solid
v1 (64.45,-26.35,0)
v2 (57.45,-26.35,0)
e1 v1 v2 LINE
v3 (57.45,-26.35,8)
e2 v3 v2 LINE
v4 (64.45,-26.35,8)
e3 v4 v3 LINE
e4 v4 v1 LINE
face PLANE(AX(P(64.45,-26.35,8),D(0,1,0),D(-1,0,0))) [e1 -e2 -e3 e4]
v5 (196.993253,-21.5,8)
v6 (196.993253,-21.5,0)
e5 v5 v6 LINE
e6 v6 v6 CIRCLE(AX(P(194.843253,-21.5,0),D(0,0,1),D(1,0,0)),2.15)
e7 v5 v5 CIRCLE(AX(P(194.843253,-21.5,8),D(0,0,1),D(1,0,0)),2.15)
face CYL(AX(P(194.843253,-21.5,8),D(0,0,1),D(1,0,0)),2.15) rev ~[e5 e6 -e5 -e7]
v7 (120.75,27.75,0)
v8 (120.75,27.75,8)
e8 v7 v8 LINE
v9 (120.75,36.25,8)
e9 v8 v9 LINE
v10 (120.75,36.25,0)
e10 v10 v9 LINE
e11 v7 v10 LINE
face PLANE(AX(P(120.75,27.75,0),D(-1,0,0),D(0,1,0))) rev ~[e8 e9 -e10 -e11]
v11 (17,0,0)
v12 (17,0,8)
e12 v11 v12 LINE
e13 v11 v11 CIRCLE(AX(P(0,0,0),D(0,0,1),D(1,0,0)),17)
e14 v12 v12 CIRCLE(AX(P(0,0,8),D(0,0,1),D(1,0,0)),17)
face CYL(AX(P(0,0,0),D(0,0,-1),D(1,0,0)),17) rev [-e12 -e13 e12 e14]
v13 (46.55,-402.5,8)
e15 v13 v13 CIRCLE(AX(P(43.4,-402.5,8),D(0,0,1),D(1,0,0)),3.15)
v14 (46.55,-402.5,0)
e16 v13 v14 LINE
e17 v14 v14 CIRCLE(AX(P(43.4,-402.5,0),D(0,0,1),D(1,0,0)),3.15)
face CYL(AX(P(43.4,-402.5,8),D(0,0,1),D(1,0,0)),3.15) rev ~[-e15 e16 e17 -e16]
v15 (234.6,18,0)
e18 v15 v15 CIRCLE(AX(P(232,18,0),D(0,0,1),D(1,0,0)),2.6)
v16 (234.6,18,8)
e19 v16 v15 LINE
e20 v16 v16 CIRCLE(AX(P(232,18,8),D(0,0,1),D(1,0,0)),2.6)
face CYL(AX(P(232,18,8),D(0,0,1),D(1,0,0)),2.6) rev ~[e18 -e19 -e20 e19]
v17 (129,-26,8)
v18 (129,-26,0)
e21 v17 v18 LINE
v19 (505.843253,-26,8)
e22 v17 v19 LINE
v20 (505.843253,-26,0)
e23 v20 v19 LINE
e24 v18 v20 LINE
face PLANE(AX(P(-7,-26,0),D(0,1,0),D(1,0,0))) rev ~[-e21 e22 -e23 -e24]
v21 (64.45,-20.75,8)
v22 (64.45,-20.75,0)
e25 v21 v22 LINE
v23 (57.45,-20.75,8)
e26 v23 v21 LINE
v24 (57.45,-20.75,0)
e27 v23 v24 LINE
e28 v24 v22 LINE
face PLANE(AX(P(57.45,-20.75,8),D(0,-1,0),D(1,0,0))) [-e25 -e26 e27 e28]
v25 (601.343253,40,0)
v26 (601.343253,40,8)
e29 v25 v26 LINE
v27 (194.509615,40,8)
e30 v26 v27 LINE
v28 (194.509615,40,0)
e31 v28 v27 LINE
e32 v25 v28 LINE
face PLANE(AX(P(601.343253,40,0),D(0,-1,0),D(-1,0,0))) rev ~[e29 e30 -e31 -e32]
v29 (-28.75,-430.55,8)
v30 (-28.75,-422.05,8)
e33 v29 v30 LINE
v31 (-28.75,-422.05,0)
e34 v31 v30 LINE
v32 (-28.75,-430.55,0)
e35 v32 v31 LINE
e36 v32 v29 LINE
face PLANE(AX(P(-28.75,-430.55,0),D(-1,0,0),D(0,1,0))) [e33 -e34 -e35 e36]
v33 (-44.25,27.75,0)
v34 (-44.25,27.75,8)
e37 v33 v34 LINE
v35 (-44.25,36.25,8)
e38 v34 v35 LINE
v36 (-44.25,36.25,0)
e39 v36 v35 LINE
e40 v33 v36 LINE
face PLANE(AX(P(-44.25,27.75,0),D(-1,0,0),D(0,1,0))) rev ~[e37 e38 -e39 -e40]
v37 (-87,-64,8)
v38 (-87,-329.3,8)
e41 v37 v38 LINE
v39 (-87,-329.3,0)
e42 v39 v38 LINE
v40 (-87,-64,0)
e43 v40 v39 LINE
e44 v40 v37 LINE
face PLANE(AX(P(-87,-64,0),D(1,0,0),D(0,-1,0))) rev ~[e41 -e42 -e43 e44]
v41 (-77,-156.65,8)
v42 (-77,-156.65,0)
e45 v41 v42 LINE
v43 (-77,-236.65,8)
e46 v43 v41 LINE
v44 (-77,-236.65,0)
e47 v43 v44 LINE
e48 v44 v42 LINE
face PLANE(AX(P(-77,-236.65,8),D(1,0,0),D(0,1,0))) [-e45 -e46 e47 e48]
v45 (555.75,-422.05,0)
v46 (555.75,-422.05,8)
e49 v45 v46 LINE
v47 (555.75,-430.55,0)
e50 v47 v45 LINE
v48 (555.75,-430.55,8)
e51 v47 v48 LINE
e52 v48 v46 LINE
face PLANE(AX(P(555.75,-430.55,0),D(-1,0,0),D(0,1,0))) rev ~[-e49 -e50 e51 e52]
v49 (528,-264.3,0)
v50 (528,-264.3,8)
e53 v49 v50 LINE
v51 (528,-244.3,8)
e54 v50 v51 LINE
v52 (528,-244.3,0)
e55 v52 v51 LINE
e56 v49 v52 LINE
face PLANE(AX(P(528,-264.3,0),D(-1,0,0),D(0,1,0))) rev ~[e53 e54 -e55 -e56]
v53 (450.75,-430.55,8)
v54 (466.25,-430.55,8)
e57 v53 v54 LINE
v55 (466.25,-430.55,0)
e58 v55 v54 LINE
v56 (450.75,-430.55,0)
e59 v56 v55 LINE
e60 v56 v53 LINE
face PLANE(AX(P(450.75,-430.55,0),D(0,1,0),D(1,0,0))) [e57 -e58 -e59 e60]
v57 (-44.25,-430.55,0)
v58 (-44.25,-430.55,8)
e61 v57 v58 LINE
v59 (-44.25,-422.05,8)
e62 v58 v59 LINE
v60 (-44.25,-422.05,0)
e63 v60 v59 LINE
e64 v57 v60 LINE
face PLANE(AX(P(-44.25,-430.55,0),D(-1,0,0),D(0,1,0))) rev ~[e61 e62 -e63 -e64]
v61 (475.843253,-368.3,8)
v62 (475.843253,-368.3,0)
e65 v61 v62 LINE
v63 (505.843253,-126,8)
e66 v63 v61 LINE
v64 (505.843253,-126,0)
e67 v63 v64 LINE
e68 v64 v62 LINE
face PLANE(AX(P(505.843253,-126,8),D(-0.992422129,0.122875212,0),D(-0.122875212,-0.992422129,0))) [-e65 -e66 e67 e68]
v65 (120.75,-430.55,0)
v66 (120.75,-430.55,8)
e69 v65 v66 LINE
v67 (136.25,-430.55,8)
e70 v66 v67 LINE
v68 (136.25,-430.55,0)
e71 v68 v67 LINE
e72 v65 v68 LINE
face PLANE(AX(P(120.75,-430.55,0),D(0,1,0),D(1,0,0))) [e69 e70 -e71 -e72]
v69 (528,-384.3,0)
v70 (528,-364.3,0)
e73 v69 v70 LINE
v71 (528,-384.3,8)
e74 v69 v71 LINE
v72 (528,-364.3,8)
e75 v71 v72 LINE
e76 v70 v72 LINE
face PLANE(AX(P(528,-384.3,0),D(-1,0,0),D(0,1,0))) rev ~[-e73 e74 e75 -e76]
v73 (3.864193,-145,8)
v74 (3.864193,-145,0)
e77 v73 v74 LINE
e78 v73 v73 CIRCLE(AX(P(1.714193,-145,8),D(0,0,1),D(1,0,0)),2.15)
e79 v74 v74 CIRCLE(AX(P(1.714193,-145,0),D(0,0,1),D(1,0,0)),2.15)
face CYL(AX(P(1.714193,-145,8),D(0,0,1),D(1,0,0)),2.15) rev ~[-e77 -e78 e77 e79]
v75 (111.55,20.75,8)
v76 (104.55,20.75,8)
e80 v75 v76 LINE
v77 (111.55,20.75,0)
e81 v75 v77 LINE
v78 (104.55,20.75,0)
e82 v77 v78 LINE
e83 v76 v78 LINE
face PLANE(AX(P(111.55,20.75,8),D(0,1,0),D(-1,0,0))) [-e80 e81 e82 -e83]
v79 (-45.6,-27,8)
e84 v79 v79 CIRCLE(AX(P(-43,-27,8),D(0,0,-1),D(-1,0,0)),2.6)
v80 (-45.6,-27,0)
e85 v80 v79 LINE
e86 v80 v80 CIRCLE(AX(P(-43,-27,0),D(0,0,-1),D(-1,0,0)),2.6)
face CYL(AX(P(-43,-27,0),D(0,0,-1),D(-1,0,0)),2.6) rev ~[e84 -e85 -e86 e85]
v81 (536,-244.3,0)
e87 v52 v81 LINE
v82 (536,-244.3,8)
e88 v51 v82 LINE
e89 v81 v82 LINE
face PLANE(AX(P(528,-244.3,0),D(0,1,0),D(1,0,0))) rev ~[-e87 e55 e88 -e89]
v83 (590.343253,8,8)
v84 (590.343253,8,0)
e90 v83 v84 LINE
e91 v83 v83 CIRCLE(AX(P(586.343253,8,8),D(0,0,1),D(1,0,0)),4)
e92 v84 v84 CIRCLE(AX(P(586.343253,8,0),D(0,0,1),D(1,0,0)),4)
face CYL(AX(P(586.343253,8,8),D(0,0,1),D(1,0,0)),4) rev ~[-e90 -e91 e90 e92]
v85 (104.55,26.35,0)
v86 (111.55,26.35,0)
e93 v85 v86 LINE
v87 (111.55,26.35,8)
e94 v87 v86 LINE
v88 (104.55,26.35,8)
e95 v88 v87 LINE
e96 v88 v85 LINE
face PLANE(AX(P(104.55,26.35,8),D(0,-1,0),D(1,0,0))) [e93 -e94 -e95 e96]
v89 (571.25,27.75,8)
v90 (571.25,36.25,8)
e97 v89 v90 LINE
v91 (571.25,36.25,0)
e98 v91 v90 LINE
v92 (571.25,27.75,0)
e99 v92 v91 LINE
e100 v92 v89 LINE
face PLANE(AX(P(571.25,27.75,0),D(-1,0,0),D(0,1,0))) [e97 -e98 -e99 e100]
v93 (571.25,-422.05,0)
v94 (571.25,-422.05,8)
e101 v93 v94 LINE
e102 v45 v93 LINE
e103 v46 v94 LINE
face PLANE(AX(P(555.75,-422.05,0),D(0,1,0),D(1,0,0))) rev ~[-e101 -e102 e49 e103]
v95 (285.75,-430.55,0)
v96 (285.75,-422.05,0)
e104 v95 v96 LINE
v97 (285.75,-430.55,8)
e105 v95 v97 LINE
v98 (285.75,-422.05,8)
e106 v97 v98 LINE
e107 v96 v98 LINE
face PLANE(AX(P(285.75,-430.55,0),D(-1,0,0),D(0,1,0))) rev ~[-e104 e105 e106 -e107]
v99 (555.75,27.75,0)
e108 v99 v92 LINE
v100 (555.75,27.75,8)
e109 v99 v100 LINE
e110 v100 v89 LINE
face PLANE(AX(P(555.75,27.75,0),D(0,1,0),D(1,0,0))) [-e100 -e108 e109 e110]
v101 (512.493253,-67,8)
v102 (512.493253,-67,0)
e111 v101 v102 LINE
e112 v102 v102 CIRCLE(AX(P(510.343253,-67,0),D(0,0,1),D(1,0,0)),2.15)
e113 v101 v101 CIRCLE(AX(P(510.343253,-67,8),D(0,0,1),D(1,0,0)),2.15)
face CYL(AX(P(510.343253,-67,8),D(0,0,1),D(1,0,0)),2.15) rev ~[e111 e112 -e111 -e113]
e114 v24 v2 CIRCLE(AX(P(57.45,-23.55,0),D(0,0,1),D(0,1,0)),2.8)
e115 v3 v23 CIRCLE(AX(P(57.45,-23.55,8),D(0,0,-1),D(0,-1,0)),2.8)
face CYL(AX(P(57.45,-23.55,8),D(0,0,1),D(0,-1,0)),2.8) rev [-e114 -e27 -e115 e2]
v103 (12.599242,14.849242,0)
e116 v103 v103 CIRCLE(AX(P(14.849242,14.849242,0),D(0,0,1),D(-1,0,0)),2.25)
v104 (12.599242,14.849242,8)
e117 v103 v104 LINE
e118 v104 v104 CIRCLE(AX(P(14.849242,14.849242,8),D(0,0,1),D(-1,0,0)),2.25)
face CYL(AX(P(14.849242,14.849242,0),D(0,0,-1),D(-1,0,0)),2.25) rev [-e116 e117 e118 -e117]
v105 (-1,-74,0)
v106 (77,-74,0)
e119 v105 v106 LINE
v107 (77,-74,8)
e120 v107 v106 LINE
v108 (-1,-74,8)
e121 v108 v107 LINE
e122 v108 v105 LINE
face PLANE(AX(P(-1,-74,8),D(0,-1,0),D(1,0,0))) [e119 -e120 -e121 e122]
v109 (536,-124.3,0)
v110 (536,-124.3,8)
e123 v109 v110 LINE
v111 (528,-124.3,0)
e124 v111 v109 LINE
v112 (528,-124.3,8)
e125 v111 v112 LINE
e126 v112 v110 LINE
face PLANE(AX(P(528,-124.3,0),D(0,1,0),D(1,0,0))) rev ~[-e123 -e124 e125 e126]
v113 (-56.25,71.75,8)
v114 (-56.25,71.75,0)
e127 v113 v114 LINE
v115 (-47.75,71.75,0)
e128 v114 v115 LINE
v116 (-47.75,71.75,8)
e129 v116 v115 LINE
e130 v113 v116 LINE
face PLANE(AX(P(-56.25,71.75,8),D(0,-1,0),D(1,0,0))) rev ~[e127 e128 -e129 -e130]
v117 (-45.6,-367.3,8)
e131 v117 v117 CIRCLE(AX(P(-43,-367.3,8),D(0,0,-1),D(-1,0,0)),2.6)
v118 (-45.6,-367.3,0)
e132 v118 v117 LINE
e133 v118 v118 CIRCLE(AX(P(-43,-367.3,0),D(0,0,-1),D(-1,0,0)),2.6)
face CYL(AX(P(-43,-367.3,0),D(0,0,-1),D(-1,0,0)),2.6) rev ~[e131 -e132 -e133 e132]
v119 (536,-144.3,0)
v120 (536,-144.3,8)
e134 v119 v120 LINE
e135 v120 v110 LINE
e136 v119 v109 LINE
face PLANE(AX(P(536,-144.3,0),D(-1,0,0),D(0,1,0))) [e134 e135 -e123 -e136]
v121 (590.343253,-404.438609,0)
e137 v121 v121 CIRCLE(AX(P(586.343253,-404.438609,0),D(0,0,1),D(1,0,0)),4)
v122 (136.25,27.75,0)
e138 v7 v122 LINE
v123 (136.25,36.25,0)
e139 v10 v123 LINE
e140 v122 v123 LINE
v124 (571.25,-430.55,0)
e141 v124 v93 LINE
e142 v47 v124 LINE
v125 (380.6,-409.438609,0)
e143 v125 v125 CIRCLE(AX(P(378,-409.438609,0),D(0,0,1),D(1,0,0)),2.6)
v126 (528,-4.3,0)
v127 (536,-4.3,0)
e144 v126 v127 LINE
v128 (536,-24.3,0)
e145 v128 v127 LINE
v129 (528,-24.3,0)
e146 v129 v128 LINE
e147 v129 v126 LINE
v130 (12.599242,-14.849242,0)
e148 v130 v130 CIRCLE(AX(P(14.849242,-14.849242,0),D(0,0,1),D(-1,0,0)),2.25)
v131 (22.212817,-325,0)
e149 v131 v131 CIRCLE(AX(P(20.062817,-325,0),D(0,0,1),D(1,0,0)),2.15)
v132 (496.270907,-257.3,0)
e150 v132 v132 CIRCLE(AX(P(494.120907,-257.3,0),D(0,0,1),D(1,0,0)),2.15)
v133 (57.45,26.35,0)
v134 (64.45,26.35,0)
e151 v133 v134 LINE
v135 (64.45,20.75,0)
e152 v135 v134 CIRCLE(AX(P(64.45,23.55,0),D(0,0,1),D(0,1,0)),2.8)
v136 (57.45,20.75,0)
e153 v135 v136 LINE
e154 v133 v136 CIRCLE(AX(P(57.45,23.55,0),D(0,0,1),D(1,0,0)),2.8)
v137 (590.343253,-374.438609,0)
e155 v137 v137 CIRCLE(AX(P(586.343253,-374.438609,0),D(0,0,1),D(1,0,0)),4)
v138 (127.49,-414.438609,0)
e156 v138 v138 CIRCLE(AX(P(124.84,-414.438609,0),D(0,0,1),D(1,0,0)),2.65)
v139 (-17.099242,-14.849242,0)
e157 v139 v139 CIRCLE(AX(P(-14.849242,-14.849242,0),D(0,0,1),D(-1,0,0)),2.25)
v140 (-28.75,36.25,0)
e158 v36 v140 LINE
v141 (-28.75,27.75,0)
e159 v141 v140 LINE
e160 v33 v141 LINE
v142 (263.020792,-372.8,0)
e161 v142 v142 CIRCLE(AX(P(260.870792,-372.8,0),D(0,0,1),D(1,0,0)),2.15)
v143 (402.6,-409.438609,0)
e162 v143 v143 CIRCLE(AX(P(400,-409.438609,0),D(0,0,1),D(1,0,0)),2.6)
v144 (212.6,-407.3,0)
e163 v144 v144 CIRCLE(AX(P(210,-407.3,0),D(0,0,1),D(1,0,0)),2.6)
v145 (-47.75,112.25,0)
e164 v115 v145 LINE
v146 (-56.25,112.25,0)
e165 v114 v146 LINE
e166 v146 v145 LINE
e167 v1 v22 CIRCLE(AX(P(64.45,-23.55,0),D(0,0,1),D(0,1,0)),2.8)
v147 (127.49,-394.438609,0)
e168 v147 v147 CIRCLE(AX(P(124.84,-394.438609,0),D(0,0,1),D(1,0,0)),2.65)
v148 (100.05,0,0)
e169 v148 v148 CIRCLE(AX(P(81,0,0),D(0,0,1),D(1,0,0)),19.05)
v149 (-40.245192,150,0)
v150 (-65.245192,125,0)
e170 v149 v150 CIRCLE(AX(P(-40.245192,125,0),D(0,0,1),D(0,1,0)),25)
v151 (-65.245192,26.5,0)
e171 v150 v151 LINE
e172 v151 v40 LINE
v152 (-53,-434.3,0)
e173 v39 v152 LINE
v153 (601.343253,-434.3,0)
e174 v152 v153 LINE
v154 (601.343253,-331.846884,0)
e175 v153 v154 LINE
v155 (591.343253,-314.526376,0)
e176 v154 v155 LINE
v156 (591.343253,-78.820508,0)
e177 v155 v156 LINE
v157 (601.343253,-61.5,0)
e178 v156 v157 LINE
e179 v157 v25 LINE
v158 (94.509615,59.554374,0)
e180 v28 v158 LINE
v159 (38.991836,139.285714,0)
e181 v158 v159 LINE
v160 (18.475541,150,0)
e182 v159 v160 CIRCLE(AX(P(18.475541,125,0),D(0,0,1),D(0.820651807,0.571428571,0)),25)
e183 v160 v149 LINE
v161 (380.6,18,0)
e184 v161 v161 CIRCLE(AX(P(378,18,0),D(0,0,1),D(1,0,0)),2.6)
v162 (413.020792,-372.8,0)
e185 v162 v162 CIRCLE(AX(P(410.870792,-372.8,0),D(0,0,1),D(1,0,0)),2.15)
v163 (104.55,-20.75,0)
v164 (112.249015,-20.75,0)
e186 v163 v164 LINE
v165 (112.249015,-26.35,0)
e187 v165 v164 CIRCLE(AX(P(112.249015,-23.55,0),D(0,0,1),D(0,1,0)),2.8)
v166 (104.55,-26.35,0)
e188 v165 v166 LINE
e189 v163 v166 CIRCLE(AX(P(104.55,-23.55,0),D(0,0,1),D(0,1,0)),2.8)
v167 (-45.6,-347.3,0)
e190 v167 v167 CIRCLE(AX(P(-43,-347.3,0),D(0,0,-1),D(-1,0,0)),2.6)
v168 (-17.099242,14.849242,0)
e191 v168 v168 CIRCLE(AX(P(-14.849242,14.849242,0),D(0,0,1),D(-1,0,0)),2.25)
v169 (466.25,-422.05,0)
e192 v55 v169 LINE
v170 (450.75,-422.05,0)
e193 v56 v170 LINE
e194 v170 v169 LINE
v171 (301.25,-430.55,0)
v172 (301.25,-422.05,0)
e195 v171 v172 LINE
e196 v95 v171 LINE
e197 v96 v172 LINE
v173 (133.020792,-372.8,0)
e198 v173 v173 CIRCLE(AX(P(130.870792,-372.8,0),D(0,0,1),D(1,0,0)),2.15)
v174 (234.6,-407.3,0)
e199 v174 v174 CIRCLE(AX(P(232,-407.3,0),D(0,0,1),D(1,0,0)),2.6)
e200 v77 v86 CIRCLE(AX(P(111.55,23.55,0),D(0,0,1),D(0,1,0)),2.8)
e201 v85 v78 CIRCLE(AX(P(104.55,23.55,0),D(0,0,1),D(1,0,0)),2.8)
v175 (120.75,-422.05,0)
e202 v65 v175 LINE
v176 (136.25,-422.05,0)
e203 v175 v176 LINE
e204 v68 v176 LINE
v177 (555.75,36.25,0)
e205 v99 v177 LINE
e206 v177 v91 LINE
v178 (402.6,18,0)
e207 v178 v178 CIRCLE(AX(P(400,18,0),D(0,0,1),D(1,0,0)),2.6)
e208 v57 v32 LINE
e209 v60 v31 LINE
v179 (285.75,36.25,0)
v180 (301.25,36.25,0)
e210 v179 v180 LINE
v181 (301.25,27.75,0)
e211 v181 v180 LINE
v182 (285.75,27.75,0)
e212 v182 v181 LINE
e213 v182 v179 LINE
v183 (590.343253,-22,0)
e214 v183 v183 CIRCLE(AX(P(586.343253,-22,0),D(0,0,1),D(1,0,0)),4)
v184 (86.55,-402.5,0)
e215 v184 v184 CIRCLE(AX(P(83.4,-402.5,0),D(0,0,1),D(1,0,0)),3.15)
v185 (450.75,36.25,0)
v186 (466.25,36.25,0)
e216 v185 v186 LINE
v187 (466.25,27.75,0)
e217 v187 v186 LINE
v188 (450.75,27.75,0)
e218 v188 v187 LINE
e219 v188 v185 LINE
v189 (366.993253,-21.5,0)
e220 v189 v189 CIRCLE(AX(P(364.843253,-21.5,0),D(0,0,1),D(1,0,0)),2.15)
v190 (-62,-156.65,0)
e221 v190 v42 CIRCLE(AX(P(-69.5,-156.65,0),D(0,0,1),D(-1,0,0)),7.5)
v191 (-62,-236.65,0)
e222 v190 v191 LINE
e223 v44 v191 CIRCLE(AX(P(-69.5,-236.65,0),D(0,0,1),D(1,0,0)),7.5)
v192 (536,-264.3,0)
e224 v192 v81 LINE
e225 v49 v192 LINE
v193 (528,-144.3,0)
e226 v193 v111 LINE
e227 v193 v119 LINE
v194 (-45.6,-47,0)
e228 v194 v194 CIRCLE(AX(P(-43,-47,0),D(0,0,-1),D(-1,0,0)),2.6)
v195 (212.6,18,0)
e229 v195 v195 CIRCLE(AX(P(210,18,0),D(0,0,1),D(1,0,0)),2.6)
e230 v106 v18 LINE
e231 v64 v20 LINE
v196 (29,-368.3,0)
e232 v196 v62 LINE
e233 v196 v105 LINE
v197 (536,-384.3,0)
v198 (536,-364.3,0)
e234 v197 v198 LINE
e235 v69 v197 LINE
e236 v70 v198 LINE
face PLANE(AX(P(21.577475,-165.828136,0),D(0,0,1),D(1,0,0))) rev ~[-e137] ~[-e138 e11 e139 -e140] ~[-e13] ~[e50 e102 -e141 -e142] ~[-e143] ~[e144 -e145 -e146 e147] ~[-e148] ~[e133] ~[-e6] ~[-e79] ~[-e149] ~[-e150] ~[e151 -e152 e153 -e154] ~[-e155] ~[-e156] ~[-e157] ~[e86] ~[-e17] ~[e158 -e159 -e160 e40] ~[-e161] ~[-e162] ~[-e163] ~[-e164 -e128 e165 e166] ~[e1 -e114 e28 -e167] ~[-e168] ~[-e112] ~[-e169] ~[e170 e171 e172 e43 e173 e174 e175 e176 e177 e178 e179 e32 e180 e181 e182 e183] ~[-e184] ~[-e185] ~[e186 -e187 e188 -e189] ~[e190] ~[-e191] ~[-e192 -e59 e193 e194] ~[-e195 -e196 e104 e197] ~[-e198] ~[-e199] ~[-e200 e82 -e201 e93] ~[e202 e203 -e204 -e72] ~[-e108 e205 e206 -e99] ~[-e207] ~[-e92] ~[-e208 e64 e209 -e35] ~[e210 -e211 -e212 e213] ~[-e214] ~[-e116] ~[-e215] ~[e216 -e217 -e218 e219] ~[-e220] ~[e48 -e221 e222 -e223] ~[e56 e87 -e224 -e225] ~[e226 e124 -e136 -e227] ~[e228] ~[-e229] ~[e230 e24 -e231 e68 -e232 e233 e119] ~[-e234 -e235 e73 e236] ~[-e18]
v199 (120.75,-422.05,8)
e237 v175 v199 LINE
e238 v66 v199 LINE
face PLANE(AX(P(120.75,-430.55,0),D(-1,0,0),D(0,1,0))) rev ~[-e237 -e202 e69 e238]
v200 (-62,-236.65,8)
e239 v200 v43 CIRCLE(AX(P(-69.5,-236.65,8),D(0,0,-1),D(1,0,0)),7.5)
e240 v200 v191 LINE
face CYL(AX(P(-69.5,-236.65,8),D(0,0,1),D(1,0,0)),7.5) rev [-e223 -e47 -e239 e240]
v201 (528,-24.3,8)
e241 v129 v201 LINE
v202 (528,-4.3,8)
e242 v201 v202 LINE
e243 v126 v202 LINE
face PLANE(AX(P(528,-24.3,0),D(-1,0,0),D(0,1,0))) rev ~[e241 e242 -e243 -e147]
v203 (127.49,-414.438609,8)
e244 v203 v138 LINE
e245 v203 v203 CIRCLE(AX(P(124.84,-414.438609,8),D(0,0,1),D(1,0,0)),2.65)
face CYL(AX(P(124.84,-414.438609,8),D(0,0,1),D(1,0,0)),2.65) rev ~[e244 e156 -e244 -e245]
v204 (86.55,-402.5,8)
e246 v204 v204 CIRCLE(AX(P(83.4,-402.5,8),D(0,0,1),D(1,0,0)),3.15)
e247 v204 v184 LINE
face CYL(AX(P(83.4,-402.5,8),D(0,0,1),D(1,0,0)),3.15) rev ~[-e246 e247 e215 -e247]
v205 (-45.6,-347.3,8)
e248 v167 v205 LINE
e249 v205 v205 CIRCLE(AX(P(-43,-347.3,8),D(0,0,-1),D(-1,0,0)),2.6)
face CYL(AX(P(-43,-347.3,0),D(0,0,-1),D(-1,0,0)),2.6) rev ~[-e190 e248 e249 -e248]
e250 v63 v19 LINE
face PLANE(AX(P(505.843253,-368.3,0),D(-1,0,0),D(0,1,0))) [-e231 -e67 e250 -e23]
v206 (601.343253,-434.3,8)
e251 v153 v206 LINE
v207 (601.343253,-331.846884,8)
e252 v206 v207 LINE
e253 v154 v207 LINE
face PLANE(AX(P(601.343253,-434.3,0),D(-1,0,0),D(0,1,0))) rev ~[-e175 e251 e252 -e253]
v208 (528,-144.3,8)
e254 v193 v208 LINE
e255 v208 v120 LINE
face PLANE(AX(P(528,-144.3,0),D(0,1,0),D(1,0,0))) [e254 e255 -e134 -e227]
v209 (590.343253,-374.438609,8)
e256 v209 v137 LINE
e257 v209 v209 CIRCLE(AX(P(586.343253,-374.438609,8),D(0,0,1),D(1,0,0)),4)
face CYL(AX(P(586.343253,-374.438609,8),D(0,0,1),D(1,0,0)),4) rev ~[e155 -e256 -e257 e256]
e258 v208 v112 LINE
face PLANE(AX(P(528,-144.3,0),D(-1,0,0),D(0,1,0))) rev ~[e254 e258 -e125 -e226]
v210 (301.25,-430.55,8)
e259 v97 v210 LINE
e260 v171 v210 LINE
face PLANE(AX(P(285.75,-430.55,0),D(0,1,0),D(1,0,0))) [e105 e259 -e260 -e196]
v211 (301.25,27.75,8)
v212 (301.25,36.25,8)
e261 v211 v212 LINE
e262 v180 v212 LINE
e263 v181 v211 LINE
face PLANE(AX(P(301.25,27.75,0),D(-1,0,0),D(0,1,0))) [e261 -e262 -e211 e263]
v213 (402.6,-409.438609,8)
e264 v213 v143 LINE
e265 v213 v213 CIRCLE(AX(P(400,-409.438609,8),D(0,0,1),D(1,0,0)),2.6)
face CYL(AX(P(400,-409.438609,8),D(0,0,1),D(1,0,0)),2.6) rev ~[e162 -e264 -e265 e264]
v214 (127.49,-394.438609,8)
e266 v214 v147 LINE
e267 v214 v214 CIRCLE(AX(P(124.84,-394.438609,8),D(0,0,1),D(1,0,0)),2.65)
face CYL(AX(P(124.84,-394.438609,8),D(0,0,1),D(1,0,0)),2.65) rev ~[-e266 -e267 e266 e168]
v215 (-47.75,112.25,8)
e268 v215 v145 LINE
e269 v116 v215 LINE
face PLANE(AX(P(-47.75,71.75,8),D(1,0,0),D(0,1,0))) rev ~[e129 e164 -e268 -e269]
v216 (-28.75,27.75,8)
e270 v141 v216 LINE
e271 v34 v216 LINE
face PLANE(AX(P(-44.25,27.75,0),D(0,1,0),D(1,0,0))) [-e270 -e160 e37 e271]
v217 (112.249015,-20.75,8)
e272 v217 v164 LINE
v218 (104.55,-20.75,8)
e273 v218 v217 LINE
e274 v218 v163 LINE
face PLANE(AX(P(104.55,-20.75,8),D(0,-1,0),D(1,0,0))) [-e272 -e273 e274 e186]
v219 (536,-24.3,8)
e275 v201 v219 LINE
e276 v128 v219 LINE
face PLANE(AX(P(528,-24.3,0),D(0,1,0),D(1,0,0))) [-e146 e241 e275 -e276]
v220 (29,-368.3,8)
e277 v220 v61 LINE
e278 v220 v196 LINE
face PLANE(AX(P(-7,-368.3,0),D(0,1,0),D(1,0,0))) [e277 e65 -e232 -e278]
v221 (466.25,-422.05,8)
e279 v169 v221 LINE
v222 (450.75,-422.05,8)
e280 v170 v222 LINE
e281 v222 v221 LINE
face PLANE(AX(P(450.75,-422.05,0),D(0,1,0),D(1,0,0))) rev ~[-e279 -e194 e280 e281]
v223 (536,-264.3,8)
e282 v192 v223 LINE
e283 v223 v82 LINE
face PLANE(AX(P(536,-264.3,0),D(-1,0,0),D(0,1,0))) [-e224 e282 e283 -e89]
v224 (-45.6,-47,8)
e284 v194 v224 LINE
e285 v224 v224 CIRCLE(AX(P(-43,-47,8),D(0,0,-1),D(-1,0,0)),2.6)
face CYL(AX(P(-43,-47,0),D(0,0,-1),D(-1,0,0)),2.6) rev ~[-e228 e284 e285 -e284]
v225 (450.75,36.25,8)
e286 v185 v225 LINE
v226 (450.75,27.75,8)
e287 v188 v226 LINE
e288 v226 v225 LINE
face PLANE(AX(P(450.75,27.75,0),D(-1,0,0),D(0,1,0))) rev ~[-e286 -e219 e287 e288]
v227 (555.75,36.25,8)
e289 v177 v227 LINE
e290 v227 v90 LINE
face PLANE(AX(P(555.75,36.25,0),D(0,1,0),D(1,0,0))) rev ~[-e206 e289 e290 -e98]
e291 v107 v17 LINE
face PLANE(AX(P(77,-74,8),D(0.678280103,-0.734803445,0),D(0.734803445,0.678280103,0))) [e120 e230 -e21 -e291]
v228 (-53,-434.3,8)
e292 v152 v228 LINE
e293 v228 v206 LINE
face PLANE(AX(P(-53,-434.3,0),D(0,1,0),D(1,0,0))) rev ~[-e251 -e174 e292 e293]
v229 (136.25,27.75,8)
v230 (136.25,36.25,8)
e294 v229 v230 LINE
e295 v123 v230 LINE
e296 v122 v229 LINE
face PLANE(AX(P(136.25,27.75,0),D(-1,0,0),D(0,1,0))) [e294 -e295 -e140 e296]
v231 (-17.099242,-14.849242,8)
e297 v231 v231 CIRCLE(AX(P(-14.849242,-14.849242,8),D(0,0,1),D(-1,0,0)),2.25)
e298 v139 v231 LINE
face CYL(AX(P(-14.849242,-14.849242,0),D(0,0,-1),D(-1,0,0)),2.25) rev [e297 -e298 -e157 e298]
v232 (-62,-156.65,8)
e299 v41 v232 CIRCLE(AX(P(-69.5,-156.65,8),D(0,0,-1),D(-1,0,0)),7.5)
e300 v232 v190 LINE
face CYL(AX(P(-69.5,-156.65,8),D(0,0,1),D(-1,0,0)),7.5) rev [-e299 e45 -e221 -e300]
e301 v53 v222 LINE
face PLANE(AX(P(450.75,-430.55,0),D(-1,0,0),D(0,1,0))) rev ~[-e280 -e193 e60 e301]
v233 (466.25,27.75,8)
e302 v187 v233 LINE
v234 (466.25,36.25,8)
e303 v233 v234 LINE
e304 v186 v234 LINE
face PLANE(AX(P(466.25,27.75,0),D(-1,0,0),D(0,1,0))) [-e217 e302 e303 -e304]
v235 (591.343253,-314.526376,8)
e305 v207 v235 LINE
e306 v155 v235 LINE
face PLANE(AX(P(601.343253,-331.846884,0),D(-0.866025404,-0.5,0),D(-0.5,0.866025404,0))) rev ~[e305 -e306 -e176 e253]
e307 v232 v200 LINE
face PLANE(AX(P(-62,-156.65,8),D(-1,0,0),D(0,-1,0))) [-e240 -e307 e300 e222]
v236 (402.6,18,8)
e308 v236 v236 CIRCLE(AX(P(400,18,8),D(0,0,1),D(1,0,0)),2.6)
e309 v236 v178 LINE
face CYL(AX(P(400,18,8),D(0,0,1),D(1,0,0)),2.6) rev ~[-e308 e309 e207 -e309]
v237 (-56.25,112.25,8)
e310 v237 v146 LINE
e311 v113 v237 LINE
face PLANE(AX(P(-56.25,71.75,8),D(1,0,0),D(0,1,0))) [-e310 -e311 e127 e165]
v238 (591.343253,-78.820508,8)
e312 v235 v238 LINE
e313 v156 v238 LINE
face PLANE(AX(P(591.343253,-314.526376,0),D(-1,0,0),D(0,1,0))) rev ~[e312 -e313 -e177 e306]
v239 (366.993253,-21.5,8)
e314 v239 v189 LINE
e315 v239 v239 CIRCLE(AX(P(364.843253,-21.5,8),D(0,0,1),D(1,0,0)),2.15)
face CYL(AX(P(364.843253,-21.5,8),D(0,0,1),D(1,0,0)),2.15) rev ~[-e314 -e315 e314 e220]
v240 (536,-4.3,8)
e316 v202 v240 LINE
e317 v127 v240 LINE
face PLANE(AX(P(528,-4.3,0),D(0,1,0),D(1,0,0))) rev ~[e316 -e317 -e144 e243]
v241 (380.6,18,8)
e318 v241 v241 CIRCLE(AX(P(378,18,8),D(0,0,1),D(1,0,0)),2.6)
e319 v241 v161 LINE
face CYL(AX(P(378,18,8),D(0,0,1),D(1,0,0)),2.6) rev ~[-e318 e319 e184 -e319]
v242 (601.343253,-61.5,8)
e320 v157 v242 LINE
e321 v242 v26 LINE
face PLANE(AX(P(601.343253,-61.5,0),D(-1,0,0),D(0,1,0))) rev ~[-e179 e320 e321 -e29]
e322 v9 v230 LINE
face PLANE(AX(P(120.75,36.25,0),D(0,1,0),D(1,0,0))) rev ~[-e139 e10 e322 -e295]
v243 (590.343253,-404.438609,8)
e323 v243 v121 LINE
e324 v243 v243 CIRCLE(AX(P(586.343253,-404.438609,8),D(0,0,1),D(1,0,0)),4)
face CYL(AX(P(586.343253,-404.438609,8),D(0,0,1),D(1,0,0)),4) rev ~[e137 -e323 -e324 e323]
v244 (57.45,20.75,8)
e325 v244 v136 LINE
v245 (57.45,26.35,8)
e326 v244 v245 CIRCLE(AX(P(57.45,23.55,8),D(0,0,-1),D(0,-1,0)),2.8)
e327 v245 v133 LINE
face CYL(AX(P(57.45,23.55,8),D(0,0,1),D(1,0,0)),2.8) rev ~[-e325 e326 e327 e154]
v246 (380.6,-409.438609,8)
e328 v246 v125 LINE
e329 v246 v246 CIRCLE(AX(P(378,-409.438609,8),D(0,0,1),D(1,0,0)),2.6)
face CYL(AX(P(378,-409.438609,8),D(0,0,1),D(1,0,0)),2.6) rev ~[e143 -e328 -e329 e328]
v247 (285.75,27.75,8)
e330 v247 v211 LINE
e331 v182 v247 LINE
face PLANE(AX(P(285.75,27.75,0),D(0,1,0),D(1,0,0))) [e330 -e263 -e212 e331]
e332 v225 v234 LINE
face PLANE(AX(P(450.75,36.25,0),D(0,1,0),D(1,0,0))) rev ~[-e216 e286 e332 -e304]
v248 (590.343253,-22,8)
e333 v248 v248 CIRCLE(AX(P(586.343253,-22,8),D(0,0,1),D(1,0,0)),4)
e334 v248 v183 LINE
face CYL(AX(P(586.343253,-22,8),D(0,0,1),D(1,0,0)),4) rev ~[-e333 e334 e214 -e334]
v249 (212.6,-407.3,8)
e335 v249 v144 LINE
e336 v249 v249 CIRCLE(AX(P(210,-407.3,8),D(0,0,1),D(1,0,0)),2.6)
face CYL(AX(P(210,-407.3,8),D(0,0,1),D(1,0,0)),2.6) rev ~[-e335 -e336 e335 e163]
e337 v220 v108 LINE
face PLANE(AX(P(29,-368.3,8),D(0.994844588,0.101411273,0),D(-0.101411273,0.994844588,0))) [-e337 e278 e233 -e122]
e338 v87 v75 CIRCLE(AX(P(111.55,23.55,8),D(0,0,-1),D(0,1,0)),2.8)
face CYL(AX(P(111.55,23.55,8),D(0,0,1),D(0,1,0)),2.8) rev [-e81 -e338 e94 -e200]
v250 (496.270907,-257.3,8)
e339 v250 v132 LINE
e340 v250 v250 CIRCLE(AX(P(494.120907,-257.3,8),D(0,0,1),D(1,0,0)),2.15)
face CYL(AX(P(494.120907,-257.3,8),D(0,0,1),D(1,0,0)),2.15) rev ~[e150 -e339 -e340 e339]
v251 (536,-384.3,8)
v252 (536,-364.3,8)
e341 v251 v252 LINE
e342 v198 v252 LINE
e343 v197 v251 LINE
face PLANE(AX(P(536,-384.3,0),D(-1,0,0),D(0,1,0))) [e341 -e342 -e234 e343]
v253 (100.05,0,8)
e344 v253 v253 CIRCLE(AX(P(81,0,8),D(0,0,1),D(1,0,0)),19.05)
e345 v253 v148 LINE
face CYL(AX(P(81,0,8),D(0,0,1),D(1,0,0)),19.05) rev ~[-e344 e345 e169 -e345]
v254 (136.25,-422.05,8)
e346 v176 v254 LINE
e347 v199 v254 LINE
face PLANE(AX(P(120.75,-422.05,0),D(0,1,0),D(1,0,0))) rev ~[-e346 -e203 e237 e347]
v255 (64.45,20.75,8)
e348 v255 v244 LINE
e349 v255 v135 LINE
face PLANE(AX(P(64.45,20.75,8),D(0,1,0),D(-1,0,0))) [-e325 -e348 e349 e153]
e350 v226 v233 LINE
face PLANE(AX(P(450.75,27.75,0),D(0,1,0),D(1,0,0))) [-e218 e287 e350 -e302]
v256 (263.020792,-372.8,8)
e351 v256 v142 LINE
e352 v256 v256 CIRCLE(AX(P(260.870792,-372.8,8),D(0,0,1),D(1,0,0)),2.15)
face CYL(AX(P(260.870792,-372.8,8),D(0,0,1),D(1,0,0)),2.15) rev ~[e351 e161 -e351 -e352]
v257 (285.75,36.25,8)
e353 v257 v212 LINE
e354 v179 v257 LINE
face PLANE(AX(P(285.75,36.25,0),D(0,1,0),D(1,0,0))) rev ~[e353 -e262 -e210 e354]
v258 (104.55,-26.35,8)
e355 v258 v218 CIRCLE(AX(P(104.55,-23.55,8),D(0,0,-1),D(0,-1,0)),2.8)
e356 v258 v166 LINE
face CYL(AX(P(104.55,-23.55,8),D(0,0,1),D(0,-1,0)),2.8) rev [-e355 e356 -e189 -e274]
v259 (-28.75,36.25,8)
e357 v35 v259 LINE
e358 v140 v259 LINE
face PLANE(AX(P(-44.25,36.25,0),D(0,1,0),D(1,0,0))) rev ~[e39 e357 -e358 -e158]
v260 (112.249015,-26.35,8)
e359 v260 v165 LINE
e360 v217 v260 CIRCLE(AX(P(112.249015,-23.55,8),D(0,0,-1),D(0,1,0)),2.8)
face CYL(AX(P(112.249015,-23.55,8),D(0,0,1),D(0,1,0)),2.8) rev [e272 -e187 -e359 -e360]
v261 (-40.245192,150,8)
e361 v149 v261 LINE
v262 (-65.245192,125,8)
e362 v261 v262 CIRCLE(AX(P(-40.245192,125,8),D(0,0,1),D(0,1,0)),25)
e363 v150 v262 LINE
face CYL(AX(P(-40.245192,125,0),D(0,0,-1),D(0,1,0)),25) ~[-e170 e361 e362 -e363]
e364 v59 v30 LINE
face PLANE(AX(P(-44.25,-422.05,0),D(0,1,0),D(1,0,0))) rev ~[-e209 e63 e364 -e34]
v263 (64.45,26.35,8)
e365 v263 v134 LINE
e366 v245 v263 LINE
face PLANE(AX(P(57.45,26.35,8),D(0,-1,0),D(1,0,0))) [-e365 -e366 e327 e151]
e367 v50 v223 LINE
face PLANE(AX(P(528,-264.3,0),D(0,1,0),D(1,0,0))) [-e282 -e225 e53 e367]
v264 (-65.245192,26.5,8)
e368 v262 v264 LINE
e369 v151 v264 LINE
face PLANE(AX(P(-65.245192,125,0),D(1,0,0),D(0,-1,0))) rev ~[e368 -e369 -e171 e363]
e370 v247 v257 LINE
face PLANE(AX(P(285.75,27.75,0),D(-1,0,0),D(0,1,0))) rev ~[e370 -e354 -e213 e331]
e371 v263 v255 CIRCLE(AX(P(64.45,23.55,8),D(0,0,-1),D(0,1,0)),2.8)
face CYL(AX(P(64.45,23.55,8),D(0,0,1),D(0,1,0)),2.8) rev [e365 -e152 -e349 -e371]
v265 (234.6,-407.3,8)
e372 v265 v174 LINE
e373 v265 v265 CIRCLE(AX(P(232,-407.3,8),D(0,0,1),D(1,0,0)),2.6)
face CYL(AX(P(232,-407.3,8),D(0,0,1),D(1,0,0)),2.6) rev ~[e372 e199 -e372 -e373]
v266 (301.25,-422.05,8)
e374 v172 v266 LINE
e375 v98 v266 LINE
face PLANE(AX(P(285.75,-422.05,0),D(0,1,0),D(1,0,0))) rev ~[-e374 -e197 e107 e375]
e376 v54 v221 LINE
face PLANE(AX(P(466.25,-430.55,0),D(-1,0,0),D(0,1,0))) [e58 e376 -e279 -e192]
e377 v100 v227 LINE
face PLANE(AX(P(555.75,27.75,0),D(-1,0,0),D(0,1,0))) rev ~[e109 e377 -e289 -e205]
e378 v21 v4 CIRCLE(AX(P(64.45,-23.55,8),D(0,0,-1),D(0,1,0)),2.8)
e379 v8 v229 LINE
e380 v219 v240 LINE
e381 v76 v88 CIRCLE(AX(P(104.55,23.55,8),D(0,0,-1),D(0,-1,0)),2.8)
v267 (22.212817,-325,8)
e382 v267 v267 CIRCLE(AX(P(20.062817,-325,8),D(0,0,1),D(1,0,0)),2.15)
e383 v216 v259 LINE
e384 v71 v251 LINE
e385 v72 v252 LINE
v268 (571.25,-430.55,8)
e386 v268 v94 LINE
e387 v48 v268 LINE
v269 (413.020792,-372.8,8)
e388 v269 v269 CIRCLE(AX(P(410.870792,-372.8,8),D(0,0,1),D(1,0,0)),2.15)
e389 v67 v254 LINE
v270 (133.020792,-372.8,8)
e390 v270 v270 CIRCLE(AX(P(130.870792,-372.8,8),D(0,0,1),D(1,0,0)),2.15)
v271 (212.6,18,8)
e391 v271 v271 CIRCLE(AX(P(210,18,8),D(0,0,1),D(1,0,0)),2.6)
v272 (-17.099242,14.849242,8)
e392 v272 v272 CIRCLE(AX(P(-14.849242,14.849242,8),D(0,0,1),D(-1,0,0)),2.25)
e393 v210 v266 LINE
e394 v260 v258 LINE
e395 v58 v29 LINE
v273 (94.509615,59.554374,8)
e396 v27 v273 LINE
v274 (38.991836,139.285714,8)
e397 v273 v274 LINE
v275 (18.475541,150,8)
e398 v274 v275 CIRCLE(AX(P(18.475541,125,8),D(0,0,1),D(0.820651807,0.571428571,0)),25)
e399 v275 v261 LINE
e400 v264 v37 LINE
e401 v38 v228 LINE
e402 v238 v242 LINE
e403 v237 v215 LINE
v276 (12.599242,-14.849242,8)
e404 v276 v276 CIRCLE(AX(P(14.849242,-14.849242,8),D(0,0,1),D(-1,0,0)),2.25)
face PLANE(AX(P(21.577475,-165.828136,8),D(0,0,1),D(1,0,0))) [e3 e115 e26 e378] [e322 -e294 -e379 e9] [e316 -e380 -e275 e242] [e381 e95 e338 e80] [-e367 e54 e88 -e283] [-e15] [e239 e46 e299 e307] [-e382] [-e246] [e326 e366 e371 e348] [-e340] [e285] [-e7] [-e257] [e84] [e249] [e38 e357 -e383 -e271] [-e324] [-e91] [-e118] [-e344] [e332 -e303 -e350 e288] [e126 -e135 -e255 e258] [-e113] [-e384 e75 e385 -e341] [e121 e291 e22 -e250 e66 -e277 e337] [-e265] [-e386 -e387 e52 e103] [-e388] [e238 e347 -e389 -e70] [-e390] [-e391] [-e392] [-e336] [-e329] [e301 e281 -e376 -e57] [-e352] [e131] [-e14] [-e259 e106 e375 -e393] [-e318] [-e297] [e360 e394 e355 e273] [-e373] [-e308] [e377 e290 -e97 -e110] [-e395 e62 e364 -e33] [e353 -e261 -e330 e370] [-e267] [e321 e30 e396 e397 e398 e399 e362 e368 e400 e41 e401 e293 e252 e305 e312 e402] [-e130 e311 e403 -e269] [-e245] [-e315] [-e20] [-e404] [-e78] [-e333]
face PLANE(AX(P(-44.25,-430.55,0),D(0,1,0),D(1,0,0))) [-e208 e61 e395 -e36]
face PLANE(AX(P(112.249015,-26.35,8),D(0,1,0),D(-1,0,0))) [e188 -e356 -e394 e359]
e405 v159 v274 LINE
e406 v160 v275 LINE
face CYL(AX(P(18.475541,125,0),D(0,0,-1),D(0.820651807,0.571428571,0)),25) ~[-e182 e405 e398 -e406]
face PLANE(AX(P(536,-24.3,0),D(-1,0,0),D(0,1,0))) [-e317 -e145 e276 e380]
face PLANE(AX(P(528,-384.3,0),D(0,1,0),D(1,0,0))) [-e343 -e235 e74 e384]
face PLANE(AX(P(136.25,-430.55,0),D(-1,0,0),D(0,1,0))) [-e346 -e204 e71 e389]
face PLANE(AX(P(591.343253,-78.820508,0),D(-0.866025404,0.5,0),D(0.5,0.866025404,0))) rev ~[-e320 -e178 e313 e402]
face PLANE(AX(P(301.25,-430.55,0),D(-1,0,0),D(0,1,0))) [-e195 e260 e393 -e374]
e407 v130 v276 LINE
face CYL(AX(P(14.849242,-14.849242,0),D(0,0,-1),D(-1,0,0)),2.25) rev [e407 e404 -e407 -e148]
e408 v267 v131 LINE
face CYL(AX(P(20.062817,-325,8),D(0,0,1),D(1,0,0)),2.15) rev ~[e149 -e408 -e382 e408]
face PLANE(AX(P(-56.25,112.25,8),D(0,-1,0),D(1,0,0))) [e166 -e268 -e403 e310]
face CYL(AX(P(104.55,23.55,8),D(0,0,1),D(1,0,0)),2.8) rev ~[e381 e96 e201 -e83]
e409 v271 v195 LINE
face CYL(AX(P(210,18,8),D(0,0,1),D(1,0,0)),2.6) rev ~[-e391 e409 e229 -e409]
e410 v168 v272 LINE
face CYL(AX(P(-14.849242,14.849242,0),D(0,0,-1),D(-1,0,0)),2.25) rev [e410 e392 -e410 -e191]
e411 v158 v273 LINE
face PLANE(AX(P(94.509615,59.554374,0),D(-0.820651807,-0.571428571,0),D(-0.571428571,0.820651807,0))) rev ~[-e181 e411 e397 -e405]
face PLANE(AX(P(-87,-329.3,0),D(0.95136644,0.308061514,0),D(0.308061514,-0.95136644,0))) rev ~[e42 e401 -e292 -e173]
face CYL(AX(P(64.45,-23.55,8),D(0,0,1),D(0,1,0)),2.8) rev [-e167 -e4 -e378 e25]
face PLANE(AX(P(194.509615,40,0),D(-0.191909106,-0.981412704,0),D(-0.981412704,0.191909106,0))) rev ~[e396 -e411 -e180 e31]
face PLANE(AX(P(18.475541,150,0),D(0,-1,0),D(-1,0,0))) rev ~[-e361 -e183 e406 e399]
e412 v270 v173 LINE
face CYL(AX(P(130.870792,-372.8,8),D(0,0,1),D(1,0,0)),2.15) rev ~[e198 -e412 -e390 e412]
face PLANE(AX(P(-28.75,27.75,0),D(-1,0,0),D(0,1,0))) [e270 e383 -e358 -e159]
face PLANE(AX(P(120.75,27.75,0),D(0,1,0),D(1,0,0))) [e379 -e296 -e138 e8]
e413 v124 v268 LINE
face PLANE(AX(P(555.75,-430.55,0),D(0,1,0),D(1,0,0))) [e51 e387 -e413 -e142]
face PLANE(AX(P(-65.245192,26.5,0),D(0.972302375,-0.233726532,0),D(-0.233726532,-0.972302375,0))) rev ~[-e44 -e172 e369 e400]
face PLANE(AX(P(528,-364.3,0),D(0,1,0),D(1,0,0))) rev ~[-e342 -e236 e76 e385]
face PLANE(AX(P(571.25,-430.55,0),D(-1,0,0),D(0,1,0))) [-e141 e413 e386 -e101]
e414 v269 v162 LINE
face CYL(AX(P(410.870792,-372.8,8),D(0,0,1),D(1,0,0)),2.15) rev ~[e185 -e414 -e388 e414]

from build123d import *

# Parameters (mm, degrees)
ESQUISSE1_W              = 15.5
ESQUISSE1_H              = 8.5
ESQUISSE1_W_2            = 8
ESQUISSE1_H_2            = 20
ESQUISSE1_W_3            = 512.843253
ESQUISSE1_H_3            = 342.3
BOSS_EXTRU_1_DEPTH       = 8
ESQUISSE2_R              = 19.05
ENL_V_MAT_EXTRU_1_DEPTH  = 10
ESQUISSE4_R              = 2.8
ENL_V_MAT_EXTRU_2_DEPTH  = 10
ESQUISSE5_R              = 3.15
ENL_V_MAT_EXTRU_3_DEPTH  = 10
ESQUISSE6_R              = 2.65
ENL_V_MAT_EXTRU_4_DEPTH  = 10
BOSS_EXTRU_2_DEPTH       = 8
ENL_V_MAT_EXTRU_6_DEPTH  = 10
ESQUISSE10_W             = 8.5
ESQUISSE10_H             = 40.5
ENL_V_MAT_EXTRU_7_DEPTH  = 10
ESQUISSE11_R             = 2.6
ENL_V_MAT_EXTRU_8_DEPTH  = 10
ESQUISSE12_R             = 4
ENL_V_MAT_EXTRU_9_DEPTH  = 10
ENL_V_MAT_EXTRU_10_DEPTH = 10
ESQUISSE14_R             = 2.149999999
ENL_V_MAT_EXTRU_11_DEPTH = 30
ESQUISSE15_R             = 2.6
ENL_V_MAT_EXTRU_12_DEPTH = 8
ESQUISSE16_R             = 2.6
ENL_V_MAT_EXTRU_13_DEPTH = 11


with BuildPart() as part:
    # Esquisse1 → Boss.-Extru.1 (new body)
    with BuildSketch(Plane.XY):
        with BuildLine():
            Line((601.343253, 40), (194.509615385, 40))
            Line((194.509615385, 40), (94.509615385, 59.554373535))
            Line((94.509615385, 59.554373535), (38.991835768, 139.285714286))
            ThreePointArc((38.991835768, 139.285714286), (30.048291849, 147.160131511), (18.475540602, 150))
            Line((18.475540602, 150), (-40.245192308, 150))
            ThreePointArc((-40.245192308, 150), (-57.922861837, 142.67766953), (-65.245192308, 125))
            Line((-65.245192308, 125), (-65.245192308, 26.5))
            Line((-65.245192308, 26.5), (-87, -64))
            Line((-87, -64), (-87, -329.3))
            Line((-87, -329.3), (-53, -434.3))
            Line((-53, -434.3), (601.343253, -434.3))
            Line((601.343253, -434.3), (601.343253, -331.846883663))
            Line((601.343253, -331.846883663), (591.343253, -314.526375587))
            Line((591.343253, -314.526375587), (591.343253, -78.820508076))
            Line((591.343253, -78.820508076), (601.343253, -61.5))
            Line((601.343253, -61.5), (601.343253, 40))
        make_face()
        with Locations((-36.5, -426.3)):
            Rectangle(ESQUISSE1_W, ESQUISSE1_H, mode=Mode.SUBTRACT)
        with Locations((293.5, -426.3)):
            Rectangle(ESQUISSE1_W, ESQUISSE1_H, mode=Mode.SUBTRACT)
        with Locations((458.5, -426.3)):
            Rectangle(ESQUISSE1_W, ESQUISSE1_H, mode=Mode.SUBTRACT)
        with Locations((128.5, -426.3)):
            Rectangle(ESQUISSE1_W, ESQUISSE1_H, mode=Mode.SUBTRACT)
        with Locations((563.5, -426.3)):
            Rectangle(ESQUISSE1_W, ESQUISSE1_H, mode=Mode.SUBTRACT)
        with Locations((532, -374.3)):
            Rectangle(ESQUISSE1_W_2, ESQUISSE1_H_2, mode=Mode.SUBTRACT)
        with Locations((532, -254.3)):
            Rectangle(ESQUISSE1_W_2, ESQUISSE1_H_2, mode=Mode.SUBTRACT)
        with Locations((532, -134.3)):
            Rectangle(ESQUISSE1_W_2, ESQUISSE1_H_2, mode=Mode.SUBTRACT)
        with Locations((563.5, 32)):
            Rectangle(ESQUISSE1_W, ESQUISSE1_H, mode=Mode.SUBTRACT)
        with Locations((458.5, 32)):
            Rectangle(ESQUISSE1_W, ESQUISSE1_H, mode=Mode.SUBTRACT)
        with Locations((293.5, 32)):
            Rectangle(ESQUISSE1_W, ESQUISSE1_H, mode=Mode.SUBTRACT)
        with Locations((128.5, 32)):
            Rectangle(ESQUISSE1_W, ESQUISSE1_H, mode=Mode.SUBTRACT)
        with Locations((-36.5, 32)):
            Rectangle(ESQUISSE1_W, ESQUISSE1_H, mode=Mode.SUBTRACT)
        with Locations((532, -14.3)):
            Rectangle(ESQUISSE1_W_2, ESQUISSE1_H_2, mode=Mode.SUBTRACT)
        with Locations((249.4216265, -197.15)):
            Rectangle(ESQUISSE1_W_3, ESQUISSE1_H_3, mode=Mode.SUBTRACT)
        with BuildLine():
            ThreePointArc((-12.599242405, 14.849242405), (-14.849242405, 17.099242405), (-17.099242405, 14.849242405))
            ThreePointArc((-17.099242405, 14.849242405), (-14.849242405, 12.599242405), (-12.599242405, 14.849242405))
        make_face(mode=Mode.SUBTRACT)
        with BuildLine():
            ThreePointArc((-17, 0), (0, -17), (17, 0))
            ThreePointArc((17, 0), (0, 17), (-17, 0))
        make_face(mode=Mode.SUBTRACT)
        with BuildLine():
            ThreePointArc((17.099242405, 14.849242405), (14.849242405, 17.099242405), (12.599242405, 14.849242405))
            ThreePointArc((12.599242405, 14.849242405), (14.849242405, 12.599242405), (17.099242405, 14.849242405))
        make_face(mode=Mode.SUBTRACT)
        with BuildLine():
            ThreePointArc((17.099242405, -14.849242405), (14.849242405, -12.599242405), (12.599242405, -14.849242405))
            ThreePointArc((12.599242405, -14.849242405), (14.849242405, -17.099242405), (17.099242405, -14.849242405))
        make_face(mode=Mode.SUBTRACT)
        with BuildLine():
            ThreePointArc((-12.599242405, -14.849242405), (-14.849242405, -12.599242405), (-17.099242405, -14.849242405))
            ThreePointArc((-17.099242405, -14.849242405), (-14.849242405, -17.099242405), (-12.599242405, -14.849242405))
        make_face(mode=Mode.SUBTRACT)
    extrude(amount=BOSS_EXTRU_1_DEPTH)

    # Esquisse2 → Enlèv. mat.-Extru.1 (cut)
    with BuildSketch(Plane.XY.offset(8)):
        with Locations((81, 0)):
            Circle(ESQUISSE2_R)
    extrude(amount=-ENL_V_MAT_EXTRU_1_DEPTH, mode=Mode.SUBTRACT)

    # Esquisse4 → Enlèv. mat.-Extru.2 (cut)
    with BuildSketch(Plane.XY.offset(8)):
        with Locations((57.45, 23.55)):
            Circle(ESQUISSE4_R)
        with Locations((104.55, 23.55)):
            Circle(ESQUISSE4_R)
        with Locations((104.55, -23.55)):
            Circle(ESQUISSE4_R)
        with Locations((57.45, -23.55)):
            Circle(ESQUISSE4_R)
    extrude(amount=-ENL_V_MAT_EXTRU_2_DEPTH, mode=Mode.SUBTRACT)

    # Esquisse5 → Enlèv. mat.-Extru.3 (cut)
    with BuildSketch(Plane.XY.offset(8)):
        with Locations((83.4, -402.5)):
            Circle(ESQUISSE5_R)
        with Locations((43.4, -402.5)):
            Circle(ESQUISSE5_R)
    extrude(amount=-ENL_V_MAT_EXTRU_3_DEPTH, mode=Mode.SUBTRACT)

    # Esquisse6 → Enlèv. mat.-Extru.4 (cut)
    with BuildSketch(Plane.XY.offset(8)):
        with Locations((124.840000002, -414.438608855)):
            Circle(ESQUISSE6_R)
        with Locations((124.840000002, -394.438608855)):
            Circle(ESQUISSE6_R)
    extrude(amount=-ENL_V_MAT_EXTRU_4_DEPTH, mode=Mode.SUBTRACT)

    # Esquisse8 → Boss.-Extru.2 (add)
    with BuildSketch(Plane.XY.offset(8)):
        Polygon((-7, -26), (-7, -368.3), (29.000000002, -368.300000002), (-0.999999998, -74.000000002), (77.000000002, -74.000000002), (129.000000002, -26.000000002), align=None)
        Polygon((505.843253002, -126.000000002), (475.843253002, -368.300000002), (505.843253, -368.3), align=None)
    extrude(amount=-BOSS_EXTRU_2_DEPTH)

    # Esquisse9 → Enlèv. mat.-Extru.6 (cut)
    with BuildSketch(Plane.XY.offset(8)):
        with BuildLine():
            Line((-61.999999998, -156.650000002), (-61.999999998, -236.650000002))
            ThreePointArc((-61.999999998, -236.650000002), (-69.499999998, -244.150000002), (-76.999999998, -236.650000002))
            Line((-76.999999998, -236.650000002), (-76.999999998, -156.650000002))
            ThreePointArc((-76.999999998, -156.650000002), (-69.499999998, -149.150000002), (-61.999999998, -156.650000002))
        make_face()
    extrude(amount=-ENL_V_MAT_EXTRU_6_DEPTH, mode=Mode.SUBTRACT)

    # Esquisse10 → Enlèv. mat.-Extru.7 (cut)
    with BuildSketch(Plane.XY.offset(8)):
        with Locations((-51.999999998, 91.999999998)):
            Rectangle(ESQUISSE10_W, ESQUISSE10_H)
    extrude(amount=-ENL_V_MAT_EXTRU_7_DEPTH, mode=Mode.SUBTRACT)

    # Esquisse11 → Enlèv. mat.-Extru.8 (cut)
    with BuildSketch(Plane.XY.offset(8)):
        with Locations((378, 18)):
            Circle(ESQUISSE11_R)
        with Locations((400, 18)):
            Circle(ESQUISSE11_R)
        with Locations((378.000000002, -409.438608855)):
            Circle(ESQUISSE11_R)
        with Locations((400.000000002, -409.438608855)):
            Circle(ESQUISSE11_R)
    extrude(amount=-ENL_V_MAT_EXTRU_8_DEPTH, mode=Mode.SUBTRACT)

    # Esquisse12 → Enlèv. mat.-Extru.9 (cut)
    with BuildSketch(Plane.XY.offset(8)):
        with Locations((586.343253, -404.438608855)):
            Circle(ESQUISSE12_R)
        with Locations((586.343253, -374.438608855)):
            Circle(ESQUISSE12_R)
        with Locations((586.343253, -22)):
            Circle(ESQUISSE12_R)
        with Locations((586.343253, 8)):
            Circle(ESQUISSE12_R)
    extrude(amount=-ENL_V_MAT_EXTRU_9_DEPTH, mode=Mode.SUBTRACT)

    # Esquisse13 → Enlèv. mat.-Extru.10 (cut)
    with BuildSketch(Plane.XY.offset(8)):
        with BuildLine():
            Line((57.45, 26.35), (64.45, 26.35))
            ThreePointArc((64.45, 26.35), (67.25, 23.55), (64.45, 20.75))
            Line((64.45, 20.75), (57.45, 20.75))
            ThreePointArc((57.45, 20.75), (54.65, 23.55), (57.45, 26.35))
        make_face()
        with BuildLine():
            Line((104.55, 26.35), (111.55, 26.35))
            ThreePointArc((111.55, 26.35), (114.35, 23.55), (111.55, 20.75))
            Line((111.55, 20.75), (104.55, 20.75))
            ThreePointArc((104.55, 20.75), (101.75, 23.55), (104.55, 26.35))
        make_face()
        with BuildLine():
            Line((104.55, -20.75), (112.249014823, -20.75))
            ThreePointArc((112.249014823, -20.75), (115.049014823, -23.55), (112.249014823, -26.35))
            Line((112.249014823, -26.35), (104.55, -26.35))
            ThreePointArc((104.55, -26.35), (101.75, -23.55), (104.55, -20.75))
        make_face()
        with BuildLine():
            Line((57.45, -20.75), (64.45, -20.75))
            ThreePointArc((64.45, -20.75), (67.25, -23.55), (64.45, -26.35))
            Line((64.45, -26.35), (57.45, -26.35))
            ThreePointArc((57.45, -26.35), (54.65, -23.55), (57.45, -20.75))
        make_face()
    extrude(amount=-ENL_V_MAT_EXTRU_10_DEPTH, mode=Mode.SUBTRACT)

    # Esquisse14 → Enlèv. mat.-Extru.11 (cut)
    with BuildSketch(Plane.XY.offset(8)):
        with Locations((130.87079204, -372.800000002)):
            Circle(ESQUISSE14_R)
        with Locations((260.87079204, -372.800000002)):
            Circle(ESQUISSE14_R)
        with Locations((410.87079204, -372.800000002)):
            Circle(ESQUISSE14_R)
        with Locations((494.12090724, -257.300000002)):
            Circle(ESQUISSE14_R)
        with Locations((510.343253002, -67.000000002)):
            Circle(ESQUISSE14_R)
        with Locations((364.843253002, -21.500000002)):
            Circle(ESQUISSE14_R)
        with Locations((194.843253002, -21.500000002)):
            Circle(ESQUISSE14_R)
        with Locations((1.714193166, -145.000000002)):
            Circle(ESQUISSE14_R)
        with Locations((20.06281702, -325.000000002)):
            Circle(ESQUISSE14_R)
    extrude(amount=-ENL_V_MAT_EXTRU_11_DEPTH, mode=Mode.SUBTRACT)

    # Esquisse15 → Enlèv. mat.-Extru.12 (cut)
    with BuildSketch(Plane.XY.offset(8)):
        with Locations((232, 18)):
            Circle(ESQUISSE15_R)
        with Locations((210, 18)):
            Circle(ESQUISSE15_R)
        with Locations((210, -407.300000002)):
            Circle(ESQUISSE15_R)
        with Locations((232, -407.300000002)):
            Circle(ESQUISSE15_R)
    extrude(amount=-ENL_V_MAT_EXTRU_12_DEPTH, mode=Mode.SUBTRACT)

    # Esquisse16 → Enlèv. mat.-Extru.13 (cut)
    with BuildSketch(Plane(origin=(0, 0, 0), x_dir=(-1, 0, 0), z_dir=(0, 0, -1))):
        with Locations((43, -47)):
            Circle(ESQUISSE16_R)
        with Locations((43, -27)):
            Circle(ESQUISSE16_R)
        with Locations((43, -347.3)):
            Circle(ESQUISSE16_R)
        with Locations((43, -367.3)):
            Circle(ESQUISSE16_R)
    extrude(amount=-ENL_V_MAT_EXTRU_13_DEPTH, mode=Mode.SUBTRACT)


solid = part.part
